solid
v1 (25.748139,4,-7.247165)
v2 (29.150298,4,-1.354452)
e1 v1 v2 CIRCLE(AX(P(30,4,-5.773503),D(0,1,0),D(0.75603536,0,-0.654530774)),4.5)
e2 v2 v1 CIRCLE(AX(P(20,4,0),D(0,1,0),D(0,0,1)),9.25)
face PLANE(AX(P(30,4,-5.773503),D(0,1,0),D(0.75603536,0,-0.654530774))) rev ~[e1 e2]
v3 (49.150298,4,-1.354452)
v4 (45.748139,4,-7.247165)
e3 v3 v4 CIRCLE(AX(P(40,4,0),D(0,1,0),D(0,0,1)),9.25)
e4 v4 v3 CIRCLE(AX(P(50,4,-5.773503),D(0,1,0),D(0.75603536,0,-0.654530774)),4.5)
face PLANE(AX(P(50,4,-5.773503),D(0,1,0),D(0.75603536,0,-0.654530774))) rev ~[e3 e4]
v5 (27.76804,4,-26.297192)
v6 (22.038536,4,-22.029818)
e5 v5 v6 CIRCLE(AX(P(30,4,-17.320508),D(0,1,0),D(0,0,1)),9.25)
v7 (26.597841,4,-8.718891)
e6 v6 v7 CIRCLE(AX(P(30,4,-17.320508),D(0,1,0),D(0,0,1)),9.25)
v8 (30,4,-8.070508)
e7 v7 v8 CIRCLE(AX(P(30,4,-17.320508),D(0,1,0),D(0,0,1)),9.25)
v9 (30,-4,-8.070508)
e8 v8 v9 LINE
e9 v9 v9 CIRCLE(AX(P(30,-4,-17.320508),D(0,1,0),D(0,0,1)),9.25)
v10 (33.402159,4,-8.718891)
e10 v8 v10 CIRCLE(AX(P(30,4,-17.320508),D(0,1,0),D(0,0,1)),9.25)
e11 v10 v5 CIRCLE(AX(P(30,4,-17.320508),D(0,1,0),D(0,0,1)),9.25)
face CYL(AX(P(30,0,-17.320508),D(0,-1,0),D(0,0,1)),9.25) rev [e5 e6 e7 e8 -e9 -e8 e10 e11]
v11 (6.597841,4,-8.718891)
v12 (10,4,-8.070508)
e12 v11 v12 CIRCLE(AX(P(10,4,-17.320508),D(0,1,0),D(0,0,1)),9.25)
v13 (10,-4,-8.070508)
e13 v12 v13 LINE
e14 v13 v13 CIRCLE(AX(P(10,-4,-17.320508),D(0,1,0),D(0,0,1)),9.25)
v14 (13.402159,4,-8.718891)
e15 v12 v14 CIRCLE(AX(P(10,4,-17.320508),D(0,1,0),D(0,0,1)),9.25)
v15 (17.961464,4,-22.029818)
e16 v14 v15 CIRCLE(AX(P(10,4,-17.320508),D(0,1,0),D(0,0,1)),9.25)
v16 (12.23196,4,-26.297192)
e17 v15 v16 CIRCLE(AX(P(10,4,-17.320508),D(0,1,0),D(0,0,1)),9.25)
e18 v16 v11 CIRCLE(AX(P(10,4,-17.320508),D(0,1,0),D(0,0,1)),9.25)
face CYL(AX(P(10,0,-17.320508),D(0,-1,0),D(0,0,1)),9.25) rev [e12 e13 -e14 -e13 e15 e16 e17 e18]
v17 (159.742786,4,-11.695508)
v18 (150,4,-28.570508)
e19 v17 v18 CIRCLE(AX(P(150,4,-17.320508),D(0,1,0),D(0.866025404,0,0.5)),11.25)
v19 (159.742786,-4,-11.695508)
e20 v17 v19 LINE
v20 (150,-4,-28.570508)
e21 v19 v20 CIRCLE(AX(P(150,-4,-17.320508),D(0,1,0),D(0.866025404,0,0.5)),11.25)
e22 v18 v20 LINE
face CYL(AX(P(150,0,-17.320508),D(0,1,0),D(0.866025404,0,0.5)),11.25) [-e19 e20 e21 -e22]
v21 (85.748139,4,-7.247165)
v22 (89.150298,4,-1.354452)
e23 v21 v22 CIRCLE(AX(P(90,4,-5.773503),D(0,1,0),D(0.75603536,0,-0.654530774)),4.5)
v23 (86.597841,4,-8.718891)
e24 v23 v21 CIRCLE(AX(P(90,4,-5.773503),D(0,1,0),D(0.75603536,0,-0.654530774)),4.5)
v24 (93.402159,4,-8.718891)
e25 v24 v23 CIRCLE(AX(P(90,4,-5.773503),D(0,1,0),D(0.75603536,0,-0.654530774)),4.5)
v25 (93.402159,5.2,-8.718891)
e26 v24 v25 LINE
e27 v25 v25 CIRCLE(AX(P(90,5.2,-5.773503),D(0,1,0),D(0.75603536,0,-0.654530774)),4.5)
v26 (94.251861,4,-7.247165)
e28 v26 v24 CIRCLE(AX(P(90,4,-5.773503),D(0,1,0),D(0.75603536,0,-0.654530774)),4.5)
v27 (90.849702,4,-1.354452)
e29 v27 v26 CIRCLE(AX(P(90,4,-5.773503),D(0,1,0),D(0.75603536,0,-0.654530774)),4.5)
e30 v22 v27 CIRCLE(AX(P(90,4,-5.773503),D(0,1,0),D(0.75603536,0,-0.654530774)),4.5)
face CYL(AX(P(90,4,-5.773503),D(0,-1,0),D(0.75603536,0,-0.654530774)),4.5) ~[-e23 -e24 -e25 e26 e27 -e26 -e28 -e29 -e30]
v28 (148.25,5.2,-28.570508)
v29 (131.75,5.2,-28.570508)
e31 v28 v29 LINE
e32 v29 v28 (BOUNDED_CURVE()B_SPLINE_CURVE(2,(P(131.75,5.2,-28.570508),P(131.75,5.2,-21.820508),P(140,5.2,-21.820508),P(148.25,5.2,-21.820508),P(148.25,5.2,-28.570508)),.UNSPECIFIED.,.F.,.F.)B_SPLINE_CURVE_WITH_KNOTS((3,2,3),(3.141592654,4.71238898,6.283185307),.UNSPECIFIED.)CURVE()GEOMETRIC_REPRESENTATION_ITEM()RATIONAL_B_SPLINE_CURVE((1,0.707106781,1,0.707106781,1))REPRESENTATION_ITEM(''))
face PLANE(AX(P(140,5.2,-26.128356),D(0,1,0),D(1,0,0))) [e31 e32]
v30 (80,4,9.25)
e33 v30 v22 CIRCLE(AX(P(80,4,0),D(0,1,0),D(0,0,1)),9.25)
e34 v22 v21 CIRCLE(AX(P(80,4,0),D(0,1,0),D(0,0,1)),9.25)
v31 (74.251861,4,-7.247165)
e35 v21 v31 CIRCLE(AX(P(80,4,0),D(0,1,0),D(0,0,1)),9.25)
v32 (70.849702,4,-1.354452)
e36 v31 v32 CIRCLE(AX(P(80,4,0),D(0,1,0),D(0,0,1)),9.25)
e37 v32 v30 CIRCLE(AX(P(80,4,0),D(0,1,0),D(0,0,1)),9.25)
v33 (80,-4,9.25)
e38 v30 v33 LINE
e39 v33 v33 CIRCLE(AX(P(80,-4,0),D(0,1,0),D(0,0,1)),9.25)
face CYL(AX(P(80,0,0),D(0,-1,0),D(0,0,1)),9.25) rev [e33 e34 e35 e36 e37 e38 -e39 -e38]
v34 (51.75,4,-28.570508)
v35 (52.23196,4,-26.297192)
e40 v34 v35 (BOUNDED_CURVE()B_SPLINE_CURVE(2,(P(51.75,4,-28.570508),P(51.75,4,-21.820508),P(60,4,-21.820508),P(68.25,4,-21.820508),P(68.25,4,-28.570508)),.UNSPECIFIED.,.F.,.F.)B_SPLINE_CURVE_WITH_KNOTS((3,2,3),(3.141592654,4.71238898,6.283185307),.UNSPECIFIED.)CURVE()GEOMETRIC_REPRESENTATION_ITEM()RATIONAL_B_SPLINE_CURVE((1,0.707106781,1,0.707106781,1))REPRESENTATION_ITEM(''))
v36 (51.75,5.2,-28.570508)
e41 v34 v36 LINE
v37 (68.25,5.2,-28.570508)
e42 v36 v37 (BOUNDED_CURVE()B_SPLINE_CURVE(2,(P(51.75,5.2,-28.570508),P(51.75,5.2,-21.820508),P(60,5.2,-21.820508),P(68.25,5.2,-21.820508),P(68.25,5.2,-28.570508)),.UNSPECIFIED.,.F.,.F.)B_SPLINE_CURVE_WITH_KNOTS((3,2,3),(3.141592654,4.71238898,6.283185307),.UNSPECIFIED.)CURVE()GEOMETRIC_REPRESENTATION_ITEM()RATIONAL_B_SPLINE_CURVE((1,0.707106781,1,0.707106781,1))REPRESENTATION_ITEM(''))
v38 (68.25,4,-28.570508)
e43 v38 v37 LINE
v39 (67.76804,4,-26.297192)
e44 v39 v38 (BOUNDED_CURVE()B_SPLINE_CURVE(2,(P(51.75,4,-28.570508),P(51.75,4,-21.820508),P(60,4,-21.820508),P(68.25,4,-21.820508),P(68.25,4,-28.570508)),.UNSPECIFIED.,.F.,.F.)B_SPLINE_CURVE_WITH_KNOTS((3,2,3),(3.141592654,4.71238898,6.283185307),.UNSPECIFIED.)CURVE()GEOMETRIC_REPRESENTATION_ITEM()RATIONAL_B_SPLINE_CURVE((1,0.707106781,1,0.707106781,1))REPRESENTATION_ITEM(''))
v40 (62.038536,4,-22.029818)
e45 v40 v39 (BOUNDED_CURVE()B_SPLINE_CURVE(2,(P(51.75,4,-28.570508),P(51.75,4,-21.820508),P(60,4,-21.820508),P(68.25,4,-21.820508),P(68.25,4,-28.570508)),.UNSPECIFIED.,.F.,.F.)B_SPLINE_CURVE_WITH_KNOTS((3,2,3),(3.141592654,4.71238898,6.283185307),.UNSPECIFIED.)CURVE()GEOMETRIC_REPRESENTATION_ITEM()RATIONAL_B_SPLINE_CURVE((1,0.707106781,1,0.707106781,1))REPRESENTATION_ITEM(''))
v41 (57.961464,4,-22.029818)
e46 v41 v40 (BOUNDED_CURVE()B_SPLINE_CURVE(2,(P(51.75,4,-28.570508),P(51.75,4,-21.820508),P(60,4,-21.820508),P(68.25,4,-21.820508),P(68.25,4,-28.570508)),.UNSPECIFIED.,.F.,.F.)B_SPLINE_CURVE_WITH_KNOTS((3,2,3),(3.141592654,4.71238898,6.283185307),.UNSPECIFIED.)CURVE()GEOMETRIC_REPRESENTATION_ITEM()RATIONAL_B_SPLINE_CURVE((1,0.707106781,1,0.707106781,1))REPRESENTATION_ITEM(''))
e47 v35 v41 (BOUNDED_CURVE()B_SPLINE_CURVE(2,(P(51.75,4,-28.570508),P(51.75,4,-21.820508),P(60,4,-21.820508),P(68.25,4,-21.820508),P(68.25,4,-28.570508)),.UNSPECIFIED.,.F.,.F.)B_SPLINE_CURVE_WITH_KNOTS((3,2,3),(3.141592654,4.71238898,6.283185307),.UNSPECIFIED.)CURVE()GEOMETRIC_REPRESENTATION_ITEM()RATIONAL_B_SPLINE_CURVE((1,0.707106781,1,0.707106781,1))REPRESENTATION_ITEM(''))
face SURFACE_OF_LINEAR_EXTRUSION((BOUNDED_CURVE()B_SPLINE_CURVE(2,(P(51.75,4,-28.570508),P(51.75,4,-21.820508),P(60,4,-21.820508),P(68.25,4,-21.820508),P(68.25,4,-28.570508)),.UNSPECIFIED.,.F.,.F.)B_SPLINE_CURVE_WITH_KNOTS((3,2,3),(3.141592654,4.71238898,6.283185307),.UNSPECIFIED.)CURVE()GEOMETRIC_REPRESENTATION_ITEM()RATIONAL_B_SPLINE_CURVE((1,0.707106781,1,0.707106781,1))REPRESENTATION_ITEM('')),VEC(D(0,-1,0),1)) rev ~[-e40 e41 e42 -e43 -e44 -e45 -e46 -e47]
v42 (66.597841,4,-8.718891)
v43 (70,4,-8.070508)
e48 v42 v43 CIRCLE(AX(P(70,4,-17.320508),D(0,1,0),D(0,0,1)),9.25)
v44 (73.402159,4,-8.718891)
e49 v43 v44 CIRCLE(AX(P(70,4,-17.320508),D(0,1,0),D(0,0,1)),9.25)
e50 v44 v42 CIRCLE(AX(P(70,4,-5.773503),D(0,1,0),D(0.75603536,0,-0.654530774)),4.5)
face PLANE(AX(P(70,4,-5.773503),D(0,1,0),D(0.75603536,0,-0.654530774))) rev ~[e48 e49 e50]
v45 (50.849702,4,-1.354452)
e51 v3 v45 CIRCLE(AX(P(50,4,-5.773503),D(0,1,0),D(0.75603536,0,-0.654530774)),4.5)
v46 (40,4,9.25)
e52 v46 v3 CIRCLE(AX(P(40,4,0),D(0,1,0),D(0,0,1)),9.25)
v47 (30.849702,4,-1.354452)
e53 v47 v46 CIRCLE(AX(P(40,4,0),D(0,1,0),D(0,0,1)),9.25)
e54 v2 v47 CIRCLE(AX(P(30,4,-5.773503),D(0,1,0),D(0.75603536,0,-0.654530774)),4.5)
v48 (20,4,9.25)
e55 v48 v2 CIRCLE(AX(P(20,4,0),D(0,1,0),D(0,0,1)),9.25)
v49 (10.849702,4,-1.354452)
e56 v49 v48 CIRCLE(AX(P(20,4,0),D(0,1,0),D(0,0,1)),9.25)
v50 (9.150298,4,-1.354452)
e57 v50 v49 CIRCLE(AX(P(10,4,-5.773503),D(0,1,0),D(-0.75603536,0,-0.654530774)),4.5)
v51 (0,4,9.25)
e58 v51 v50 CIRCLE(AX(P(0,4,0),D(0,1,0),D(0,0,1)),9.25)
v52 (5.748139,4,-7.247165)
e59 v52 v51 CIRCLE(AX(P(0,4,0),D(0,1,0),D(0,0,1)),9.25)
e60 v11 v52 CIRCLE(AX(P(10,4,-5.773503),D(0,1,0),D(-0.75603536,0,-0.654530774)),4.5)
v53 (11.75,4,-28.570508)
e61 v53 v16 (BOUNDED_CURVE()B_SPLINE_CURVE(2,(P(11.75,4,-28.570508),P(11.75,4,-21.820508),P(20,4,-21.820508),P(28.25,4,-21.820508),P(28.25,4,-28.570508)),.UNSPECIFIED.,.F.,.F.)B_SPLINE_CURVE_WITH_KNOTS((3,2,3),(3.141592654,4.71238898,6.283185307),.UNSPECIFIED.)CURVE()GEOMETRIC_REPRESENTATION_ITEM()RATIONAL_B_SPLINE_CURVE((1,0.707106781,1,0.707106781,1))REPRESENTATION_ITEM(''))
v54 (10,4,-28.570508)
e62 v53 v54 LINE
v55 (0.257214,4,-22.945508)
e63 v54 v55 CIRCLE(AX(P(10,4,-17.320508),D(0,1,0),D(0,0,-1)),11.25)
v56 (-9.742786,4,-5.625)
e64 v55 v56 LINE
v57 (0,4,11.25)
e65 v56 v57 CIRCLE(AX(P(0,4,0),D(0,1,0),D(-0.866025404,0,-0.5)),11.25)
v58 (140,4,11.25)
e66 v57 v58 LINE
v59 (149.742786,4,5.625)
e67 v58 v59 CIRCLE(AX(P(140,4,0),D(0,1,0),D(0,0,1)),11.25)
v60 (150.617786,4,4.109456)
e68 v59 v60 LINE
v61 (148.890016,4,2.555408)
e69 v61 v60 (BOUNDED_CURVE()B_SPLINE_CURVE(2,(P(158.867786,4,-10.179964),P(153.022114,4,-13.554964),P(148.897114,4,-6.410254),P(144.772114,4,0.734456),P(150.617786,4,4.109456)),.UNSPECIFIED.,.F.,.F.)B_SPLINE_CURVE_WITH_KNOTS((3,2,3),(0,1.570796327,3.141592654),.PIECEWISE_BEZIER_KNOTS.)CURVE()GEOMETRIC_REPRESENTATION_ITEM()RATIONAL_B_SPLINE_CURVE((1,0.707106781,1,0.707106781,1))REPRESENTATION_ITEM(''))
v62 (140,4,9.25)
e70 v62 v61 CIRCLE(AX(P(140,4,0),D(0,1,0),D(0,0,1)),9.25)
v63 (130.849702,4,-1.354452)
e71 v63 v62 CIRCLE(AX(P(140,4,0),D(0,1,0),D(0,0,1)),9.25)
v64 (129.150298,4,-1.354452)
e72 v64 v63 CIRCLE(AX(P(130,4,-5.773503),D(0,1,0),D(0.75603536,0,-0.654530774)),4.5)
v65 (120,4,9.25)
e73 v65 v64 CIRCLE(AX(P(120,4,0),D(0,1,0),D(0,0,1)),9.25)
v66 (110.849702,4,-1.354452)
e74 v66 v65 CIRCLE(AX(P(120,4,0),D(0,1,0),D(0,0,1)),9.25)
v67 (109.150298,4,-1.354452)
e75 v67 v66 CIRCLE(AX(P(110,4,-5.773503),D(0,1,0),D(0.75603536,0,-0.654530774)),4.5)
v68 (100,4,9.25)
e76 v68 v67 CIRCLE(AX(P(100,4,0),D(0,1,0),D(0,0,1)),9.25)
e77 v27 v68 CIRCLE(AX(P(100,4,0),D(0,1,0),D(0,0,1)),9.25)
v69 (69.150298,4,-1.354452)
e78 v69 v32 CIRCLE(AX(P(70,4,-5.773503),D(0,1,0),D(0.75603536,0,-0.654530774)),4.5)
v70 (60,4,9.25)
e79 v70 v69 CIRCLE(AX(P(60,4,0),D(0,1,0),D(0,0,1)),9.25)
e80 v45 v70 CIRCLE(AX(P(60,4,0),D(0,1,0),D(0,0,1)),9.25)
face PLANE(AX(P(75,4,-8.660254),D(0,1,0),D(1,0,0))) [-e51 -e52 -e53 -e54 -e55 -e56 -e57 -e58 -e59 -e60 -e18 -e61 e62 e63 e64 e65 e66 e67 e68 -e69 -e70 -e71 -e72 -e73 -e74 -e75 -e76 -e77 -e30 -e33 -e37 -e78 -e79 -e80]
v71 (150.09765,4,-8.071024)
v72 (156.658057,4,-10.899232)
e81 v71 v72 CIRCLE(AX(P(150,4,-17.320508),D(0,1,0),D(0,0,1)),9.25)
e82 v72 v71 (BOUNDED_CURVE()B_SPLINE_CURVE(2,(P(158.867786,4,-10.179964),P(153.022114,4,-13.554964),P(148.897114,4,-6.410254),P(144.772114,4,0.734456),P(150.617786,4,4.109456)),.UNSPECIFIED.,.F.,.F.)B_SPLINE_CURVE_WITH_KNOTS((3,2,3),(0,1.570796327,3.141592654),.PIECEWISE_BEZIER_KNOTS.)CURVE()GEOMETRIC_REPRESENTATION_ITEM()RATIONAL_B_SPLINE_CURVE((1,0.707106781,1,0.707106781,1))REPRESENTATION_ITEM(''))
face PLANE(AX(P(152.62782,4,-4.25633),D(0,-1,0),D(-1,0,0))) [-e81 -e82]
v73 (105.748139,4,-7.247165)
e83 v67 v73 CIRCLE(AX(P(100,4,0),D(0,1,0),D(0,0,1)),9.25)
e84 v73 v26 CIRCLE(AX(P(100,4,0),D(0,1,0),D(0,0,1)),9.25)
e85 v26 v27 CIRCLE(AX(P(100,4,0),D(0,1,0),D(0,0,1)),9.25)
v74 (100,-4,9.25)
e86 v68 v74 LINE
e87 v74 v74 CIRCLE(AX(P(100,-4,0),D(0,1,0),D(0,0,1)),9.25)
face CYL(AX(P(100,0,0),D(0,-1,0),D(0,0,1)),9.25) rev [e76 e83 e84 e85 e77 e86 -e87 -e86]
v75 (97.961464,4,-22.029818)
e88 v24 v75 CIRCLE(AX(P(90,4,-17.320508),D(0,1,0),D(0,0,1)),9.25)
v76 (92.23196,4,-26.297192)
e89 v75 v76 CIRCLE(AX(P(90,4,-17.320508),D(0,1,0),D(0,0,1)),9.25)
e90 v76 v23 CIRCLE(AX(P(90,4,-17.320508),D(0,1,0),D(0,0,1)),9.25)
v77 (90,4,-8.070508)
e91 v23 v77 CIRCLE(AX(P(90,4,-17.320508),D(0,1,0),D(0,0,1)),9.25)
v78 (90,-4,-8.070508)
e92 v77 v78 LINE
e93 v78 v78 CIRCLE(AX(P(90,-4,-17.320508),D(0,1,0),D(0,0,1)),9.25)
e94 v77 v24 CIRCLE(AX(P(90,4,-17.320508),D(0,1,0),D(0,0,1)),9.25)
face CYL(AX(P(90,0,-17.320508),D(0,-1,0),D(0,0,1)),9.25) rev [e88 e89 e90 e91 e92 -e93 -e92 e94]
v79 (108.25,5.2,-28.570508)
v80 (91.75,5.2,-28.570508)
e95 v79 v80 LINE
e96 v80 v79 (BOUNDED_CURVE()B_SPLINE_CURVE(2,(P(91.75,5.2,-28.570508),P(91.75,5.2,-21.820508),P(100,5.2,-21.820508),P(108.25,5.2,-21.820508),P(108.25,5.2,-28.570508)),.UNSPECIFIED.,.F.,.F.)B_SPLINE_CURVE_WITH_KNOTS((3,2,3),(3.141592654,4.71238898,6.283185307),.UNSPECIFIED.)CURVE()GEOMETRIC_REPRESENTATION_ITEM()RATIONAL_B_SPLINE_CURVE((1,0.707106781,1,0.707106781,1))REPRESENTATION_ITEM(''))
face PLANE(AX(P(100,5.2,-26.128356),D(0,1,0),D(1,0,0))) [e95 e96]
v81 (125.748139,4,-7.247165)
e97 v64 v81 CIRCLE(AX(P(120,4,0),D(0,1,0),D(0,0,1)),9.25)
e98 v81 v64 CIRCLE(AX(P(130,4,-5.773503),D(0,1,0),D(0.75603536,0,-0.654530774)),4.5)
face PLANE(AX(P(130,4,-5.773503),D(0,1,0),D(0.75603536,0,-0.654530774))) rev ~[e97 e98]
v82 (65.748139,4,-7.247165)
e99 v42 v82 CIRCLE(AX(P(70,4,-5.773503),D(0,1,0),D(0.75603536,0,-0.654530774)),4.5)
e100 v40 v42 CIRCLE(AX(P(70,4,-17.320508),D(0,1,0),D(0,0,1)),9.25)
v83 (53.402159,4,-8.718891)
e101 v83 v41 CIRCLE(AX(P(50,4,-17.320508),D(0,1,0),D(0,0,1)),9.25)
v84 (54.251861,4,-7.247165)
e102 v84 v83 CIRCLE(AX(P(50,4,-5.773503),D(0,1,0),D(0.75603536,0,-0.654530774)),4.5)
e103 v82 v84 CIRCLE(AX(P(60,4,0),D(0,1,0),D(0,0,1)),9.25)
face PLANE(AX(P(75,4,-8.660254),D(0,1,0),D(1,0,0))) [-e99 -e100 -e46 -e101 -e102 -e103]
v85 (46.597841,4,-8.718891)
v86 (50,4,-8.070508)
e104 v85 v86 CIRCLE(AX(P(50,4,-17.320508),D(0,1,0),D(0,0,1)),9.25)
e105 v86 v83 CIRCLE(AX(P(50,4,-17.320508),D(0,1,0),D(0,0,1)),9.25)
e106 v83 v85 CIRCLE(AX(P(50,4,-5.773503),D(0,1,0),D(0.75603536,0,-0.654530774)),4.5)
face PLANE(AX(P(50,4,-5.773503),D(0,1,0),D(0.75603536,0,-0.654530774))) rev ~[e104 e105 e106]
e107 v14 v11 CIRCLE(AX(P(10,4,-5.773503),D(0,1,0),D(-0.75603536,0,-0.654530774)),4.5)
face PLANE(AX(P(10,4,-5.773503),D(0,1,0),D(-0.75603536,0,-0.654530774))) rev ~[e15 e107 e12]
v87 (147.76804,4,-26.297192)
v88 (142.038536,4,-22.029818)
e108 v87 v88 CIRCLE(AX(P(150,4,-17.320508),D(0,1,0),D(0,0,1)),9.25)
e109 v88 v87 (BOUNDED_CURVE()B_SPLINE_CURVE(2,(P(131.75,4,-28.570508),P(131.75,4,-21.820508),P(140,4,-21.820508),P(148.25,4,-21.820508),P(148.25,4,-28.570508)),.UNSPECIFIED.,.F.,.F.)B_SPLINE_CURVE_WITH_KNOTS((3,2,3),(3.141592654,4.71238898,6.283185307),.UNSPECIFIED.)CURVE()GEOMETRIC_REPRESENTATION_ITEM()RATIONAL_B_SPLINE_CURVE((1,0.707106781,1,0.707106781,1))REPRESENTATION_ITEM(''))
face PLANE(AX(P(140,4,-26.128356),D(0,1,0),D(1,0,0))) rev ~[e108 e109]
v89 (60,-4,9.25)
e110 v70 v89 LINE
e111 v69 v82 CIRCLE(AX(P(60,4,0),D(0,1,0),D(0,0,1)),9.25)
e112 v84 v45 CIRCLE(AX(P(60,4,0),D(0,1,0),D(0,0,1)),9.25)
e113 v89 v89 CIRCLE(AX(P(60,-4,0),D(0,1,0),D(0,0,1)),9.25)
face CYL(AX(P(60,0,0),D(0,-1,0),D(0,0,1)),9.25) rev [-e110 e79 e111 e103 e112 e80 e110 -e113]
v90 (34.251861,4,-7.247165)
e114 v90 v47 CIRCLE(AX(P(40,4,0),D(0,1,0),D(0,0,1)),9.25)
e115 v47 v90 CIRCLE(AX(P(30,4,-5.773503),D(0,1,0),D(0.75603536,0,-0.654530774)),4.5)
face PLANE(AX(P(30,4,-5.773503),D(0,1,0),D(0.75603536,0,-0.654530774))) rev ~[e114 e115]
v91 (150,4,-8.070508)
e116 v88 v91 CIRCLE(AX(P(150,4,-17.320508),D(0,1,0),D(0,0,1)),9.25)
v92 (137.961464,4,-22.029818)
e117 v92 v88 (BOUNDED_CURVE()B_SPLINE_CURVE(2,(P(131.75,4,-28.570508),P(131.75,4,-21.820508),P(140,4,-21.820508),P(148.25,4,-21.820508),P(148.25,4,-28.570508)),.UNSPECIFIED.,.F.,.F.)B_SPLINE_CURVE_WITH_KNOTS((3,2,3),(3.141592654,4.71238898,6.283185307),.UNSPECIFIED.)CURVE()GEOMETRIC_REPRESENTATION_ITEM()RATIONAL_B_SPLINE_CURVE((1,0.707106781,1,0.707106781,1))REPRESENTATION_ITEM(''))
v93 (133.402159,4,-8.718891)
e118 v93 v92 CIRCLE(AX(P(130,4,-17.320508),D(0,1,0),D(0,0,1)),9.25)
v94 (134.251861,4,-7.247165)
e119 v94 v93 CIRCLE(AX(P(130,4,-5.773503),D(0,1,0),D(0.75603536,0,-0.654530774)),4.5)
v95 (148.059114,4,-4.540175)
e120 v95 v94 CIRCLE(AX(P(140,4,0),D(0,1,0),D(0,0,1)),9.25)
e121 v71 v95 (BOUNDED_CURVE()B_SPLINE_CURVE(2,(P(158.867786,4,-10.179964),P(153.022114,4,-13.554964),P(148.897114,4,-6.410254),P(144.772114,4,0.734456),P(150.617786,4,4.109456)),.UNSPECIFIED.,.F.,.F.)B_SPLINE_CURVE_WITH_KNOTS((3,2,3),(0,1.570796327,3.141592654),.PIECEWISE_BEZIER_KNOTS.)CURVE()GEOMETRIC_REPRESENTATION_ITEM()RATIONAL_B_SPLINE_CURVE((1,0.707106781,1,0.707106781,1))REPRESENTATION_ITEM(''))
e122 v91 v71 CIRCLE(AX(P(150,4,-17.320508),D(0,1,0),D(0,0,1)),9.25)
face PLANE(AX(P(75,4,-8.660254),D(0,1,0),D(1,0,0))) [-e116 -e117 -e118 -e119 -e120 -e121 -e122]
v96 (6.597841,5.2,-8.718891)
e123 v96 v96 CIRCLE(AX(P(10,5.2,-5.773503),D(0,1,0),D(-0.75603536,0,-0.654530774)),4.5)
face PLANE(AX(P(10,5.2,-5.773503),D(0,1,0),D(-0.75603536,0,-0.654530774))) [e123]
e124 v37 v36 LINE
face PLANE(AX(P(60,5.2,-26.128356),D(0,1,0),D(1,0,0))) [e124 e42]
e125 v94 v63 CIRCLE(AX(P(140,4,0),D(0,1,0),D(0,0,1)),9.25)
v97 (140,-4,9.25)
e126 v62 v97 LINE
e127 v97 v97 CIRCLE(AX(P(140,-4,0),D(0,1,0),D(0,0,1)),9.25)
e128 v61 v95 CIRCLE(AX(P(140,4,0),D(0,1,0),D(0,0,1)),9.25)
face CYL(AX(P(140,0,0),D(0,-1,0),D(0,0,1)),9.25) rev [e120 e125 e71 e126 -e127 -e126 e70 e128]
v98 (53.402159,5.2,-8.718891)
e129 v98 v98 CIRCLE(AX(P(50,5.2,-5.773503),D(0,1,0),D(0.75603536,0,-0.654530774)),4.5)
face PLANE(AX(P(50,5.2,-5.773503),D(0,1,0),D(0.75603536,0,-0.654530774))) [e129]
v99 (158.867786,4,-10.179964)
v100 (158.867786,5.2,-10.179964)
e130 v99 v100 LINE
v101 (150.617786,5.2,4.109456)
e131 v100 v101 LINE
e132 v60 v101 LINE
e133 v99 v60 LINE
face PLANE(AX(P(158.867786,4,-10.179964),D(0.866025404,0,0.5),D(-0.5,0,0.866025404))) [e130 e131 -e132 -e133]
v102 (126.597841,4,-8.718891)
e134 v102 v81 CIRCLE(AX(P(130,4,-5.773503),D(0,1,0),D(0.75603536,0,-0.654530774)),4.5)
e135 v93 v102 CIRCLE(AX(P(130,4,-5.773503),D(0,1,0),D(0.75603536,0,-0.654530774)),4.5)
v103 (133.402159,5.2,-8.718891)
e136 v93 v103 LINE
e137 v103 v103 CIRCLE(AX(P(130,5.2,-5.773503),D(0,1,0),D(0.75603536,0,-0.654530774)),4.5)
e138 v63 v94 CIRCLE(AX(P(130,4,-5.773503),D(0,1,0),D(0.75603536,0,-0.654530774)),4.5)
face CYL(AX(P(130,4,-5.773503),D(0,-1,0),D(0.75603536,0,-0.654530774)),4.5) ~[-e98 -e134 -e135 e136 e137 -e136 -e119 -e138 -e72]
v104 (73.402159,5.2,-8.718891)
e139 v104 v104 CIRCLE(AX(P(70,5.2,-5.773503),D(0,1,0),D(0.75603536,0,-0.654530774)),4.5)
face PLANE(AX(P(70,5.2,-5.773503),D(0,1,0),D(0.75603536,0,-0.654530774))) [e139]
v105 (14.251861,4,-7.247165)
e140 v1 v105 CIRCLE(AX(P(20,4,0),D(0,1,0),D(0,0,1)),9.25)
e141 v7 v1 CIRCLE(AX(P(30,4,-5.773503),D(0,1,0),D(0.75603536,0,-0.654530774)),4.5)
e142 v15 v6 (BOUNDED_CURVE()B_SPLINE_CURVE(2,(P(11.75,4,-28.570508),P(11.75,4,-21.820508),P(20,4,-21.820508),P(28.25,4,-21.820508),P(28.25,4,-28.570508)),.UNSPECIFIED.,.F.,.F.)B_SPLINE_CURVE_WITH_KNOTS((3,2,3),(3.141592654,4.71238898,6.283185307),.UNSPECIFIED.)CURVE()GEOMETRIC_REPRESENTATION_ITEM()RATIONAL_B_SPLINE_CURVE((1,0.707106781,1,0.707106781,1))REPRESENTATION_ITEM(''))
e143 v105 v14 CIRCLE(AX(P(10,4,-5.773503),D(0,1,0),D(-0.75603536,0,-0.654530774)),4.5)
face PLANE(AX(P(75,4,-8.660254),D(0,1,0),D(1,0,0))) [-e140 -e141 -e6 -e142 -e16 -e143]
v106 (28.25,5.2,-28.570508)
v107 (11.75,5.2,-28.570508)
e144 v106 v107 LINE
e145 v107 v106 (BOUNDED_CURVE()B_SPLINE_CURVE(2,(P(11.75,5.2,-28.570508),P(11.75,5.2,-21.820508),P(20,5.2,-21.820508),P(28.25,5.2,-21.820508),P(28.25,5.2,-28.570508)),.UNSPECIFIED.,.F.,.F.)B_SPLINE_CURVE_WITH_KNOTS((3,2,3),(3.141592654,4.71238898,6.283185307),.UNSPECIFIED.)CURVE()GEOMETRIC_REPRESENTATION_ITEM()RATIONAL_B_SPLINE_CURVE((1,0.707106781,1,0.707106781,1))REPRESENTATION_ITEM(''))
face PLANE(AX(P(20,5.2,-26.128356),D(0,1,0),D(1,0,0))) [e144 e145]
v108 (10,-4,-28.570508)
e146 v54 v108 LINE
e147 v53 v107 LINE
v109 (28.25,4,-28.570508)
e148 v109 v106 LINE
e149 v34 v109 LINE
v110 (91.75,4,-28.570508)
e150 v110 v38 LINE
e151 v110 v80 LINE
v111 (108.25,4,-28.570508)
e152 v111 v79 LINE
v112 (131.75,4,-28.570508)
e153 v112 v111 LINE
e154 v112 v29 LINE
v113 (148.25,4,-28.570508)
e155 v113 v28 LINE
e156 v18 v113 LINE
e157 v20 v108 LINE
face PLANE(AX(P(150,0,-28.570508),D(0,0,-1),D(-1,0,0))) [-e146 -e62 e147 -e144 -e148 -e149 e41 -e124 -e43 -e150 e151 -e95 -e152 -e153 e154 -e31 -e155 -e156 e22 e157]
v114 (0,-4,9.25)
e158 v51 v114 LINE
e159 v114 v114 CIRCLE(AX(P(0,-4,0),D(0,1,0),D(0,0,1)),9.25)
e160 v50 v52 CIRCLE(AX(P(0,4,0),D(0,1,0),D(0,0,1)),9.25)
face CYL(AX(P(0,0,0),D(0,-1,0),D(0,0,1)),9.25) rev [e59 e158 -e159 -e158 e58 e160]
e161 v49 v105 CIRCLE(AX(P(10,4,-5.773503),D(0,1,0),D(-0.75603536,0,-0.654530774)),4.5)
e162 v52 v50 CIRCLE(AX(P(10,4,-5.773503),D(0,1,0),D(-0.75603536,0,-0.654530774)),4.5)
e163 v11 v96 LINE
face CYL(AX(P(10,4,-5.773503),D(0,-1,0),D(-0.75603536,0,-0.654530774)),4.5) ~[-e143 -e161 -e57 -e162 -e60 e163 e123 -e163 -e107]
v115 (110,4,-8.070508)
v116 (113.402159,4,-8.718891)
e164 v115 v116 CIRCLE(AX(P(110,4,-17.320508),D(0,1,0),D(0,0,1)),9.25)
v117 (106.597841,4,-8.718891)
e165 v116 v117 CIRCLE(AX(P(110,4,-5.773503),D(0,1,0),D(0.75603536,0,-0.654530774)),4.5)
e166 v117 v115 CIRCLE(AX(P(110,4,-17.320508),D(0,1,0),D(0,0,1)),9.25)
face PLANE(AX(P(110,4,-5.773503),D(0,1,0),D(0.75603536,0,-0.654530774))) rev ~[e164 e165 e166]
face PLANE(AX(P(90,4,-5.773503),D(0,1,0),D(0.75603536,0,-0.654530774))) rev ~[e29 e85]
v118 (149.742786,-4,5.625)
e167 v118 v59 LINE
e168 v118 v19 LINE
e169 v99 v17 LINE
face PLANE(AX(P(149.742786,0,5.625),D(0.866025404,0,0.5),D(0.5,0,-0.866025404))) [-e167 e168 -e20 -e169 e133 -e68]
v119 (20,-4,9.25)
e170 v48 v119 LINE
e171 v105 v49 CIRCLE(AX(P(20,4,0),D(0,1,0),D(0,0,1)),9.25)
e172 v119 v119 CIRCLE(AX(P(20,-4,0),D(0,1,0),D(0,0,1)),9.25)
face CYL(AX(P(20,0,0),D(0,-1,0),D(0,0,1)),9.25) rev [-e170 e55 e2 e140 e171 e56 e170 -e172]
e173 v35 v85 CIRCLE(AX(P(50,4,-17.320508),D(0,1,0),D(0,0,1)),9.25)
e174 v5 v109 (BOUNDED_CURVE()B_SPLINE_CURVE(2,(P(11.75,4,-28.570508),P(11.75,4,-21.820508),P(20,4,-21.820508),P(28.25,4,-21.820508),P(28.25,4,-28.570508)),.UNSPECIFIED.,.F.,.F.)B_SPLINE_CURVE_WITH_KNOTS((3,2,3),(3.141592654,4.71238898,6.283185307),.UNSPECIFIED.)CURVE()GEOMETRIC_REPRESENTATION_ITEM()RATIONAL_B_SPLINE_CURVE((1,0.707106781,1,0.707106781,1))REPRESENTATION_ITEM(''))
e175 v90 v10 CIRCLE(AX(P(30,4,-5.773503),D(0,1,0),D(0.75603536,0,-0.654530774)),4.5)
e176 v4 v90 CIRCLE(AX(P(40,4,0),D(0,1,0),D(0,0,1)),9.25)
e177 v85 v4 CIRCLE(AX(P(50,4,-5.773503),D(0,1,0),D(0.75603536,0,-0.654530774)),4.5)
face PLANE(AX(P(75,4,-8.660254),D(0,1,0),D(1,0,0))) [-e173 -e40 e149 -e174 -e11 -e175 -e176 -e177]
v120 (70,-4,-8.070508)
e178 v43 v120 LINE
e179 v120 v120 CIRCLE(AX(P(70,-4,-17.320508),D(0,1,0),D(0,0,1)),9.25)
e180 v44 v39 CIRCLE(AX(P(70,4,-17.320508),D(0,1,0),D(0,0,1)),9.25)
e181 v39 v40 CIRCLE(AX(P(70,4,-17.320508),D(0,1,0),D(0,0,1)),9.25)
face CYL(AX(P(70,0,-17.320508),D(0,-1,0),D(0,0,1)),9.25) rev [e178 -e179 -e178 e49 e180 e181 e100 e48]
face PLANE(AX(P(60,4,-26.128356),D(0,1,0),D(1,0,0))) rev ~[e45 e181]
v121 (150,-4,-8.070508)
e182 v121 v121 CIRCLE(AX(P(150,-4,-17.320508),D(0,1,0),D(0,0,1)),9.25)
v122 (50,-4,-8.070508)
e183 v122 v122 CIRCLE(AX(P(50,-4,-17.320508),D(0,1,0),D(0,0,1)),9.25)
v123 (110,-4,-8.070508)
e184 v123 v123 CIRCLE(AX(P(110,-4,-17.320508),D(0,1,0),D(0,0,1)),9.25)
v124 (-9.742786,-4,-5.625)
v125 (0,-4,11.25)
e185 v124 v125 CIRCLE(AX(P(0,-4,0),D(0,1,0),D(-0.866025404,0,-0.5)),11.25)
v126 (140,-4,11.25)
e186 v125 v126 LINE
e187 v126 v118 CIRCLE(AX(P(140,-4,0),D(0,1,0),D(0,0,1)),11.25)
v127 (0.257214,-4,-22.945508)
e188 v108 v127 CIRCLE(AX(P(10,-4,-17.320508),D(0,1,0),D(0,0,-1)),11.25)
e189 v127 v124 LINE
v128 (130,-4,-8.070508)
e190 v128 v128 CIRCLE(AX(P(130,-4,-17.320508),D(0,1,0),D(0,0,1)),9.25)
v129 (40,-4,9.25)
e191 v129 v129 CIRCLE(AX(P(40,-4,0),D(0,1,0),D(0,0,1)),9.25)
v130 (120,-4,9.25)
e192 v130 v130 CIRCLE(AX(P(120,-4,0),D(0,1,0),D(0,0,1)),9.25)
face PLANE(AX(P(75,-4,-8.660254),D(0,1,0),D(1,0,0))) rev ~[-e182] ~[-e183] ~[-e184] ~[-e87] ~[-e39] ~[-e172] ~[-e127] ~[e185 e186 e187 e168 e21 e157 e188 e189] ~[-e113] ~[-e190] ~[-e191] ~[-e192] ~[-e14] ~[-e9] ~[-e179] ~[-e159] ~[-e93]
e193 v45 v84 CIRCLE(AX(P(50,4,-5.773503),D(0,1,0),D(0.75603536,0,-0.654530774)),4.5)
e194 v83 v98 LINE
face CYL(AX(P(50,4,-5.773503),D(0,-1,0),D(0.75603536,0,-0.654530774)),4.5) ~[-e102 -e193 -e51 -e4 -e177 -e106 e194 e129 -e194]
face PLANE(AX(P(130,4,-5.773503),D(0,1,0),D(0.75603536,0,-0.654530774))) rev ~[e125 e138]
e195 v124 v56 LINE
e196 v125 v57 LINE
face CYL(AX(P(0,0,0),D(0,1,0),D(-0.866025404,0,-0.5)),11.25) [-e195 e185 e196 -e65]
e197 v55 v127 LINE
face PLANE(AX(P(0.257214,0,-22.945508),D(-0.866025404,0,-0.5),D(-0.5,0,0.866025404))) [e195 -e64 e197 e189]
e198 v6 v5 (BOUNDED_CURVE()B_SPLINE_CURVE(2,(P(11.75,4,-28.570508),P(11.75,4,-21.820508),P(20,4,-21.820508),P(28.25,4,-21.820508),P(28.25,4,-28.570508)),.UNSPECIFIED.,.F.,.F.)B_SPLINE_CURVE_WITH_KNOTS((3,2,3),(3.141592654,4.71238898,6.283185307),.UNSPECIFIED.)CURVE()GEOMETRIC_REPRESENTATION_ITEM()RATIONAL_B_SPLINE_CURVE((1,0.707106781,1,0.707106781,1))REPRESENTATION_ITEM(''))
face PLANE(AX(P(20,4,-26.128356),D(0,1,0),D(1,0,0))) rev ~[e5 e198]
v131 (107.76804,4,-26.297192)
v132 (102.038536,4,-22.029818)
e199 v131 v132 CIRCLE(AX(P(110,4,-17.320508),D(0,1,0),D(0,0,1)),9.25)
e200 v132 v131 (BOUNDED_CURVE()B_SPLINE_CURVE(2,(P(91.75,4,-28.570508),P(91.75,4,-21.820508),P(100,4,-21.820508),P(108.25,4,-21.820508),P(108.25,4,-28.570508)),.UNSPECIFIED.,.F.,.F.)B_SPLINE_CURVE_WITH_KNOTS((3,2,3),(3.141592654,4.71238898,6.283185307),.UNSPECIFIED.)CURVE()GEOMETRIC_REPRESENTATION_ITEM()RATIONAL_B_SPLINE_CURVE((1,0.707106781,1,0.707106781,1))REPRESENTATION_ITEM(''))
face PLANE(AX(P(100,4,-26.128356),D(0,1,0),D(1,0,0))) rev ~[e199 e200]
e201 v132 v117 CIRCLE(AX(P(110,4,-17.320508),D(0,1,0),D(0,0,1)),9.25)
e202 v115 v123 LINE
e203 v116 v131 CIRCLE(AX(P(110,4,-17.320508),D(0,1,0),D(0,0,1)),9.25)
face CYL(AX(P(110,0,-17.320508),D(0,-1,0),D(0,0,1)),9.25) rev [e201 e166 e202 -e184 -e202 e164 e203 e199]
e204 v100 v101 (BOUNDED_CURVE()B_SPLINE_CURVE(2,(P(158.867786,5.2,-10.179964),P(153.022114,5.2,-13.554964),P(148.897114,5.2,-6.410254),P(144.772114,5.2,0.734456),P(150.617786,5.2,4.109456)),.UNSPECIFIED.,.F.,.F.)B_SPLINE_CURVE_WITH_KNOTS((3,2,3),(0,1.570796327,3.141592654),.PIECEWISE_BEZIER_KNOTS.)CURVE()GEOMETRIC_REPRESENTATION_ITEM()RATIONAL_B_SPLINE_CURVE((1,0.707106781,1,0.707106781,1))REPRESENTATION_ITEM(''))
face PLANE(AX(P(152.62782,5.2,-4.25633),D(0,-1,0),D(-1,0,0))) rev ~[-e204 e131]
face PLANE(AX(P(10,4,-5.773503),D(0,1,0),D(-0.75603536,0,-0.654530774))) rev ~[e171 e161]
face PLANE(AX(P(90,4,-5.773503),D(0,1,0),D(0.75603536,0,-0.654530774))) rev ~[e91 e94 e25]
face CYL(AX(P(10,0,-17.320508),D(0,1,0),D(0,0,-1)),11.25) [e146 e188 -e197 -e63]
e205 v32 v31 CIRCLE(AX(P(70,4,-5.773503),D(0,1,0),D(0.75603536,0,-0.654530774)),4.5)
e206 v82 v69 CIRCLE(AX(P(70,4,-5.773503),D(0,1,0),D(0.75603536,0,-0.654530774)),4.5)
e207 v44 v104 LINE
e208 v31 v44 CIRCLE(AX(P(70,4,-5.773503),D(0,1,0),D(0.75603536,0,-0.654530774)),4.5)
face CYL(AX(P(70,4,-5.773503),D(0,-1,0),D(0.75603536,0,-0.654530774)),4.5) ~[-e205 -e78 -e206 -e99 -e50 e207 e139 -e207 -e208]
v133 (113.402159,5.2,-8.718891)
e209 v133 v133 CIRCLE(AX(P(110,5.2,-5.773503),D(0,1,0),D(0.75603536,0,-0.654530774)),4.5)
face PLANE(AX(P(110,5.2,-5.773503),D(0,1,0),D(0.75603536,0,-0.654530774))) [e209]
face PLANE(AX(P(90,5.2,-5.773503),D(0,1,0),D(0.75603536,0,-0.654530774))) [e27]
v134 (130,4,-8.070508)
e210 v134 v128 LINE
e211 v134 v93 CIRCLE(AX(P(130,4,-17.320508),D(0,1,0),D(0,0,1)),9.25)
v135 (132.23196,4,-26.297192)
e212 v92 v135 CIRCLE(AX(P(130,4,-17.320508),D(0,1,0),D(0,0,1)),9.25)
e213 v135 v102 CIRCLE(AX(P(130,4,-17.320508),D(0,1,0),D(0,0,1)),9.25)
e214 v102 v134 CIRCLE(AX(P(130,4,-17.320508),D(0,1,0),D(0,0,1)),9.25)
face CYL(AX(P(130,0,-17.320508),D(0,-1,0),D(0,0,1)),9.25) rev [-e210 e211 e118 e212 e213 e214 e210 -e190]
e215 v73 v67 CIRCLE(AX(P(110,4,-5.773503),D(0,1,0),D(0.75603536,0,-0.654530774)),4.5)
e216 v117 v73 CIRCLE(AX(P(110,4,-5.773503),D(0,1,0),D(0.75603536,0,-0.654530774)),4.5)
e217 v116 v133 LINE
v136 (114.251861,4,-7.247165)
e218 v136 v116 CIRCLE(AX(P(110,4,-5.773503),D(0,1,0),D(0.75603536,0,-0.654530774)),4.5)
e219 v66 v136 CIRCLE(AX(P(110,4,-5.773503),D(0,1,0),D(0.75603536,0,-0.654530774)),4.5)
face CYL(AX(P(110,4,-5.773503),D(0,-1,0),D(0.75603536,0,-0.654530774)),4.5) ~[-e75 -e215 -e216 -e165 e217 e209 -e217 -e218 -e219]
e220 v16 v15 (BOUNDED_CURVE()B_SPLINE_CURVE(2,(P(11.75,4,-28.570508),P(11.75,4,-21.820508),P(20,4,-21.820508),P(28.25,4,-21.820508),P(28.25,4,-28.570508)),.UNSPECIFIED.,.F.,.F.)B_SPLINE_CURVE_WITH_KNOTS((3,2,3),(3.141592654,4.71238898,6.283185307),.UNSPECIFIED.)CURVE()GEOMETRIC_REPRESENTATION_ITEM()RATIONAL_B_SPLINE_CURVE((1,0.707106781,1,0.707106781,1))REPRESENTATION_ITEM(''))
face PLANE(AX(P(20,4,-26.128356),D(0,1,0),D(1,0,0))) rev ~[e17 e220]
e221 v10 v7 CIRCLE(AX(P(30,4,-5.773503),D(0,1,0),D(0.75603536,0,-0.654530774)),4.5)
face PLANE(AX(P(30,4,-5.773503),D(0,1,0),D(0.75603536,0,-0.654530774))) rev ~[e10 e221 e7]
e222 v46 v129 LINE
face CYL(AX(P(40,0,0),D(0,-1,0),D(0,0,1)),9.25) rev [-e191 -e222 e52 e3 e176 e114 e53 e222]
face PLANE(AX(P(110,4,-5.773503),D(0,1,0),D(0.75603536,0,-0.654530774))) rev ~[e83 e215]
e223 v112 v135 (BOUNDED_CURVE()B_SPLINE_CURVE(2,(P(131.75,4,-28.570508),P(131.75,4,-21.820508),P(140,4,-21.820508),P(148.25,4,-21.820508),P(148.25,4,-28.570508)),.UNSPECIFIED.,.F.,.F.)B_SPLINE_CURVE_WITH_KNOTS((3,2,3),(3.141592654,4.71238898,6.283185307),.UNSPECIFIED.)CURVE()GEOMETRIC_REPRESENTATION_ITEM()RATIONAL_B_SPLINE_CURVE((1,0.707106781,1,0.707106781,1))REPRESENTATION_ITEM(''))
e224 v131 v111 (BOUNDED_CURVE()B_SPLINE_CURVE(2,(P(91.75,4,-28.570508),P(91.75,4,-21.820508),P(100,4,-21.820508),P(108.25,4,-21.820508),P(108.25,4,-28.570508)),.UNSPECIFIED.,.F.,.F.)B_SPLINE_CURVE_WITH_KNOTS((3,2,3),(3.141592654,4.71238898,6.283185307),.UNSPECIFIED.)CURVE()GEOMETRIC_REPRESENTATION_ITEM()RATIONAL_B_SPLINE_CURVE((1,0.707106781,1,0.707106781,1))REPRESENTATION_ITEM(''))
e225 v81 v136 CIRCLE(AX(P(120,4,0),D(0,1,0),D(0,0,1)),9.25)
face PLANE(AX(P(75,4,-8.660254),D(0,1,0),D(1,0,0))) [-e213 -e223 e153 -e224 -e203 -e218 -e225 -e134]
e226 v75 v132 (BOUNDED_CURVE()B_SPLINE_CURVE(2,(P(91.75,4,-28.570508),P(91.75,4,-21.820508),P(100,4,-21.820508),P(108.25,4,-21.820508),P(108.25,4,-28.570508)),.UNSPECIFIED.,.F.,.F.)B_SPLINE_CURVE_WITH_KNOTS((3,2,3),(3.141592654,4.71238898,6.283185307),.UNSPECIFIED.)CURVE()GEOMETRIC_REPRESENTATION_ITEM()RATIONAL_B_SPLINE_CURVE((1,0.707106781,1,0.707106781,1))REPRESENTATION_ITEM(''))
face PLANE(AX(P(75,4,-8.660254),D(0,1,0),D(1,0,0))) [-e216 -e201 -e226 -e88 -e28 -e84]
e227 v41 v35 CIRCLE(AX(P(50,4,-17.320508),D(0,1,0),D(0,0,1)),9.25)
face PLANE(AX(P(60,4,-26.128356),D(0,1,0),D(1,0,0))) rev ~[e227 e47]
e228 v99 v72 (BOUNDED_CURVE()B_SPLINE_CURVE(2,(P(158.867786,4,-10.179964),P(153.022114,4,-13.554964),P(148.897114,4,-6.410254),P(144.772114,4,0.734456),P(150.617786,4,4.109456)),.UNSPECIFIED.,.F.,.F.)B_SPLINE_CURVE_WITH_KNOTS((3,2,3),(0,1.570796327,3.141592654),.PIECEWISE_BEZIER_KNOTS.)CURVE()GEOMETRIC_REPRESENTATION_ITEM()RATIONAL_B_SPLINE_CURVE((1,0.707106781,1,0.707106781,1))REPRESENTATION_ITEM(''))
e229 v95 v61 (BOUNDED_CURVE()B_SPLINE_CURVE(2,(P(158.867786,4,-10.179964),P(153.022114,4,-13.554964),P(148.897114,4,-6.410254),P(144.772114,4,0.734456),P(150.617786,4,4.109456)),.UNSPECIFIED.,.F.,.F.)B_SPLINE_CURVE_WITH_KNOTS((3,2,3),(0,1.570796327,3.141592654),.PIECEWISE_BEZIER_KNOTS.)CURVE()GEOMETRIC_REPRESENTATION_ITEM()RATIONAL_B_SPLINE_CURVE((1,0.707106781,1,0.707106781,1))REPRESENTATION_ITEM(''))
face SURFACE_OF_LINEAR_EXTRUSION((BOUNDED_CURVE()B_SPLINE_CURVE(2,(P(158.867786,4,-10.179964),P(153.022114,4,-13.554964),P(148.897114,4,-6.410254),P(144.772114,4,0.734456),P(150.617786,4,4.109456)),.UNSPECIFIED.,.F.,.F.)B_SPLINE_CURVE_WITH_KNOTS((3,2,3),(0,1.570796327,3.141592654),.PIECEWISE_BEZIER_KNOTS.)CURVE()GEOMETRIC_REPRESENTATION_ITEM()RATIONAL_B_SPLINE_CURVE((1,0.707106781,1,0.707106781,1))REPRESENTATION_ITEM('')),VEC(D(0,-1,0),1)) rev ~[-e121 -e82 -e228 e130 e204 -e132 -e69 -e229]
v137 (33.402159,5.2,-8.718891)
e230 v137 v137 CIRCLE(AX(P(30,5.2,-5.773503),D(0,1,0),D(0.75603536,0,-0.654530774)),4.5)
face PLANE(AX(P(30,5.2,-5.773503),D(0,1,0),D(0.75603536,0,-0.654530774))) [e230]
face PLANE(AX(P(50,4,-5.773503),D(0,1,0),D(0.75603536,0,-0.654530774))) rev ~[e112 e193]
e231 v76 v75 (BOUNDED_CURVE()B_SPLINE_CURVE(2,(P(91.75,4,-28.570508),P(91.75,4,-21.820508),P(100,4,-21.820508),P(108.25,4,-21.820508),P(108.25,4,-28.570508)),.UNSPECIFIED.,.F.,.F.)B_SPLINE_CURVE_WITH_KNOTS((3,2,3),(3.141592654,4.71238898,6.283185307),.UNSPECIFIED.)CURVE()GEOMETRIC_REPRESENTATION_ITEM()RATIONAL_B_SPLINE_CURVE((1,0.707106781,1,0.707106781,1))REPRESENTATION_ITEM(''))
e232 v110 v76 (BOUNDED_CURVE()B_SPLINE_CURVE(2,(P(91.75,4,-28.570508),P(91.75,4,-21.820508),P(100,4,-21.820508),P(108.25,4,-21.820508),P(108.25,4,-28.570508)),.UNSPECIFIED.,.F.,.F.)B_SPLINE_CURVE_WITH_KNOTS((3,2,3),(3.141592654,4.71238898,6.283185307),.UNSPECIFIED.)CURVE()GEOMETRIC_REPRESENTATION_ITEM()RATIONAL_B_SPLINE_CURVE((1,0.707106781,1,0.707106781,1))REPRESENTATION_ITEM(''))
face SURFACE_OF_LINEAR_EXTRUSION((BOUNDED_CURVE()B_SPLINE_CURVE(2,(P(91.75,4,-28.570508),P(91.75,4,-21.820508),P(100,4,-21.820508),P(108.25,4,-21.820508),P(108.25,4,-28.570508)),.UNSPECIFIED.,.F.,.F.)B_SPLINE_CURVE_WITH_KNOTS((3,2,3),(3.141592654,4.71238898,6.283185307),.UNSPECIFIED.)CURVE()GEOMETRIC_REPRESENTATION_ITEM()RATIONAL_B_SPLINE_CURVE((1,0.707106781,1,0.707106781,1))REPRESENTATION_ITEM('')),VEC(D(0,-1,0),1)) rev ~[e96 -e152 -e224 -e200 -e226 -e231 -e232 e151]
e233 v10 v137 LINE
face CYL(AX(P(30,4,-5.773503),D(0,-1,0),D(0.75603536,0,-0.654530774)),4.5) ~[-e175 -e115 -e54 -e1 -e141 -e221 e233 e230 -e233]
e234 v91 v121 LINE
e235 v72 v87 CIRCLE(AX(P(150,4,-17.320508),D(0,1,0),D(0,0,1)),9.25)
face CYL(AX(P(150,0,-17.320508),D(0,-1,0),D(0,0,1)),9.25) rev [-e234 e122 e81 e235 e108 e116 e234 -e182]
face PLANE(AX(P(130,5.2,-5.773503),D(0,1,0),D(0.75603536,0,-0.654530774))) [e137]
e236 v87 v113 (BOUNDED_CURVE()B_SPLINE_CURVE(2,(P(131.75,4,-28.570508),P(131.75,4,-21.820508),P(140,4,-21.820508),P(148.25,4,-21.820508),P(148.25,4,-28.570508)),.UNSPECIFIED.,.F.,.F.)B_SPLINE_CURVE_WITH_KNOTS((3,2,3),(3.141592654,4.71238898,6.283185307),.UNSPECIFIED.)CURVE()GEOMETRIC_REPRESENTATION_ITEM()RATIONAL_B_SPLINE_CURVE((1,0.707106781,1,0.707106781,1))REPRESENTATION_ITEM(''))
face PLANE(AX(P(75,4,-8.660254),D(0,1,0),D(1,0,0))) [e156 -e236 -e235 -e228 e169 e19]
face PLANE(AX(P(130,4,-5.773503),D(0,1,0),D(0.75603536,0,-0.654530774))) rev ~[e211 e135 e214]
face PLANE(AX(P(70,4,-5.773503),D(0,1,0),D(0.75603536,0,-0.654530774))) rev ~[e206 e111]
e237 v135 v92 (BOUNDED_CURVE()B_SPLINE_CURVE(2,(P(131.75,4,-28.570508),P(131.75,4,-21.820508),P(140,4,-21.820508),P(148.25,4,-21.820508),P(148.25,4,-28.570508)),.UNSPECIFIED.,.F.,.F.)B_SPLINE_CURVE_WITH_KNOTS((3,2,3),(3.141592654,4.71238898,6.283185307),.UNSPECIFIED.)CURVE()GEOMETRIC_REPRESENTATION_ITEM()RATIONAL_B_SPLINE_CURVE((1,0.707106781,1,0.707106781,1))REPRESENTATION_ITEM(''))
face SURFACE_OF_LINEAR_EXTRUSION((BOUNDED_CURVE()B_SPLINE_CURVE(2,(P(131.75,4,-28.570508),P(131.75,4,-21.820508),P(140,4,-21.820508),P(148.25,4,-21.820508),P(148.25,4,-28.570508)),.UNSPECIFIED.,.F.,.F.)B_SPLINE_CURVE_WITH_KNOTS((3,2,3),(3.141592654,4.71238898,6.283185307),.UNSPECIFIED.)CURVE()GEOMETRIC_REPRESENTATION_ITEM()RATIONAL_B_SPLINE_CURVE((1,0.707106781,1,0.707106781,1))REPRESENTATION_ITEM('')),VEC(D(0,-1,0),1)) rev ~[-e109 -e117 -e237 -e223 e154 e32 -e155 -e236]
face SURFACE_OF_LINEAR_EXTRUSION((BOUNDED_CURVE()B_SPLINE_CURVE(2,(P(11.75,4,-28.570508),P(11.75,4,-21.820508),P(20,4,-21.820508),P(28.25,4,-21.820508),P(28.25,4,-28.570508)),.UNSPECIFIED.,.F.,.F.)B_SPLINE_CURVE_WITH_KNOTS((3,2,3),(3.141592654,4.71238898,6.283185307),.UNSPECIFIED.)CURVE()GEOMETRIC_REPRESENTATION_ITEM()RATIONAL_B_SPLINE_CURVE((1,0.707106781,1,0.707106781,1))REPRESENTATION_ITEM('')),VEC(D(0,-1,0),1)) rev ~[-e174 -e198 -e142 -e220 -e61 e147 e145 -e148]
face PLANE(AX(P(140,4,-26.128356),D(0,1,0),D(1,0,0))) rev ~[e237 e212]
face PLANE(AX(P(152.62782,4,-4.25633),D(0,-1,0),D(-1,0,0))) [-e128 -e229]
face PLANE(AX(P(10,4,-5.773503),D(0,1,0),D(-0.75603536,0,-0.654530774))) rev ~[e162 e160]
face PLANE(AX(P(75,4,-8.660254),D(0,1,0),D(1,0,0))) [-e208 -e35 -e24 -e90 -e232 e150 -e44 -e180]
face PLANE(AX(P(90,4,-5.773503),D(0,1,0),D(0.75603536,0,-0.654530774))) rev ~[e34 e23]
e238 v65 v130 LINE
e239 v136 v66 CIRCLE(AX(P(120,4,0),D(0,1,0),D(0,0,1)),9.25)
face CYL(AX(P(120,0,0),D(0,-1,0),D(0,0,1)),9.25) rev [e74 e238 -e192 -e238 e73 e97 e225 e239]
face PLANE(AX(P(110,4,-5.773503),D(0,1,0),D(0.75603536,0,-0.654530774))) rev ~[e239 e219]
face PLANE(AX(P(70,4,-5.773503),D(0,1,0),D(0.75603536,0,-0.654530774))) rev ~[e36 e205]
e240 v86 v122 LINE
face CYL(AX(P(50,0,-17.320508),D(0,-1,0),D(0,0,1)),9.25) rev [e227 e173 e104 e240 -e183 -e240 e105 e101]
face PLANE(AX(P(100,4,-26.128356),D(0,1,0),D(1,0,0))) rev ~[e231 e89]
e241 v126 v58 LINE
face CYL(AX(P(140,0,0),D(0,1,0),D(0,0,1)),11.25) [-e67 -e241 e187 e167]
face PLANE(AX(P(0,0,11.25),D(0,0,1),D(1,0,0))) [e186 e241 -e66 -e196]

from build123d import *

# Parameters (mm, degrees)
SKETCH2_R           = 9.25
BOSS_EXTRUDE1_DEPTH = 4
SKETCH3_R           = 4.5
BOSS_EXTRUDE2_DEPTH = 1.2


with BuildPart() as part:
    # Sketch2 → Boss-Extrude1 (new, symmetric)
    with BuildSketch(Plane(origin=(0, 0, 0), x_dir=(1, 0, 0), z_dir=(0, 1, 0))):
        with BuildLine():
            Line((0.257214207, 22.945508076), (-9.742785793, 5.625))
            ThreePointArc((-9.742785793, 5.625), (-9.742785793, -5.625), (0, -11.25))
            Line((0, -11.25), (140, -11.25))
            ThreePointArc((140, -11.25), (145.625, -9.742785793), (149.742785793, -5.625))
            Line((149.742785793, -5.625), (159.742785793, 11.695508076))
            ThreePointArc((159.742785793, 11.695508076), (159.742785793, 22.945508076), (150, 28.570508076))
            Line((150, 28.570508076), (10, 28.570508076))
            ThreePointArc((10, 28.570508076), (4.375, 27.063293868), (0.257214207, 22.945508076))
        make_face()
        with Locations(Location((10, 17.320508076, 0), (0, 0, 270))):
            Circle(SKETCH2_R, mode=Mode.SUBTRACT)
        with Locations(Location((0, 0, 0), (0, 0, 270))):
            Circle(SKETCH2_R, mode=Mode.SUBTRACT)
        with Locations(Location((20, 0, 0), (0, 0, 270))):
            Circle(SKETCH2_R, mode=Mode.SUBTRACT)
        with Locations(Location((40, 0, 0), (0, 0, 270))):
            Circle(SKETCH2_R, mode=Mode.SUBTRACT)
        with Locations(Location((60, 0, 0), (0, 0, 270))):
            Circle(SKETCH2_R, mode=Mode.SUBTRACT)
        with Locations(Location((80, 0, 0), (0, 0, 270))):
            Circle(SKETCH2_R, mode=Mode.SUBTRACT)
        with Locations(Location((100, 0, 0), (0, 0, 270))):
            Circle(SKETCH2_R, mode=Mode.SUBTRACT)
        with Locations(Location((120, 0, 0), (0, 0, 270))):
            Circle(SKETCH2_R, mode=Mode.SUBTRACT)
        with Locations(Location((140, 0, 0), (0, 0, 270))):
            Circle(SKETCH2_R, mode=Mode.SUBTRACT)
        with Locations(Location((30, 17.320508076, 0), (0, 0, 270))):
            Circle(SKETCH2_R, mode=Mode.SUBTRACT)
        with Locations(Location((50, 17.320508076, 0), (0, 0, 270))):
            Circle(SKETCH2_R, mode=Mode.SUBTRACT)
        with Locations(Location((70, 17.320508076, 0), (0, 0, 270))):
            Circle(SKETCH2_R, mode=Mode.SUBTRACT)
        with Locations(Location((90, 17.320508076, 0), (0, 0, 270))):
            Circle(SKETCH2_R, mode=Mode.SUBTRACT)
        with Locations(Location((110, 17.320508076, 0), (0, 0, 270))):
            Circle(SKETCH2_R, mode=Mode.SUBTRACT)
        with Locations(Location((130, 17.320508076, 0), (0, 0, 270))):
            Circle(SKETCH2_R, mode=Mode.SUBTRACT)
        with Locations(Location((150, 17.320508076, 0), (0, 0, 270))):
            Circle(SKETCH2_R, mode=Mode.SUBTRACT)
    extrude(amount=BOSS_EXTRUDE1_DEPTH, both=True)

    # Sketch3 → Boss-Extrude2 (add)
    with BuildSketch(Plane(origin=(0, 4, 0), x_dir=(1, 0, 0), z_dir=(0, 1, 0))):
        with Locations(Location((10, 5.773502692, 0), (0, 0, 139.11591968))):
            Circle(SKETCH3_R)
        with Locations(Location((30, 5.773502692, 0), (0, 0, 40.88408032))):
            Circle(SKETCH3_R)
        with Locations(Location((50, 5.773502692, 0), (0, 0, 40.88408032))):
            Circle(SKETCH3_R)
        with Locations(Location((70, 5.773502692, 0), (0, 0, 40.88408032))):
            Circle(SKETCH3_R)
        with Locations(Location((90, 5.773502692, 0), (0, 0, 40.88408032))):
            Circle(SKETCH3_R)
        with Locations(Location((110, 5.773502692, 0), (0, 0, 40.88408032))):
            Circle(SKETCH3_R)
        with Locations(Location((130, 5.773502692, 0), (0, 0, 40.88408032))):
            Circle(SKETCH3_R)
        with BuildLine():
            Line((28.25, 28.570508076), (11.75, 28.570508076))
            add(Edge.make_bspline(
                [(11.75, 28.570508076), (11.75, 21.820508076), (20, 21.820508076), (28.25, 21.820508076), (28.25, 28.570508076)],
                knots=[3.141592654, 3.141592654, 3.141592654, 4.71238898, 4.71238898, 6.283185307, 6.283185307, 6.283185307], degree=2, weights=[1, 0.707106781, 1, 0.707106781, 1]))
        make_face()
        with BuildLine():
            Line((68.25, 28.570508076), (51.75, 28.570508076))
            add(Edge.make_bspline(
                [(51.75, 28.570508076), (51.75, 21.820508076), (60, 21.820508076), (68.25, 21.820508076), (68.25, 28.570508076)],
                knots=[3.141592654, 3.141592654, 3.141592654, 4.71238898, 4.71238898, 6.283185307, 6.283185307, 6.283185307], degree=2, weights=[1, 0.707106781, 1, 0.707106781, 1]))
        make_face()
        with BuildLine():
            Line((108.25, 28.570508076), (91.75, 28.570508076))
            add(Edge.make_bspline(
                [(91.75, 28.570508076), (91.75, 21.820508076), (100, 21.820508076), (108.25, 21.820508076), (108.25, 28.570508076)],
                knots=[3.141592654, 3.141592654, 3.141592654, 4.71238898, 4.71238898, 6.283185307, 6.283185307, 6.283185307], degree=2, weights=[1, 0.707106781, 1, 0.707106781, 1]))
        make_face()
        with BuildLine():
            Line((148.25, 28.570508076), (131.75, 28.570508076))
            add(Edge.make_bspline(
                [(131.75, 28.570508076), (131.75, 21.820508076), (140, 21.820508076), (148.25, 21.820508076), (148.25, 28.570508076)],
                knots=[3.141592654, 3.141592654, 3.141592654, 4.71238898, 4.71238898, 6.283185307, 6.283185307, 6.283185307], degree=2, weights=[1, 0.707106781, 1, 0.707106781, 1]))
        make_face()
        with BuildLine():
            Line((158.867785793, 10.179963619), (150.617785793, -4.109455543))
            add(Edge.make_bspline(
                [(158.867785793, 10.179963619), (153.022114317, 13.554963619), (148.897114317, 6.410254038), (144.772114317, -0.734455543), (150.617785793, -4.109455543)],
                knots=[0, 0, 0, 1.570796327, 1.570796327, 3.141592654, 3.141592654, 3.141592654], degree=2, weights=[1, 0.707106781, 1, 0.707106781, 1]))
        make_face()
    extrude(amount=BOSS_EXTRUDE2_DEPTH)


solid = part.part
